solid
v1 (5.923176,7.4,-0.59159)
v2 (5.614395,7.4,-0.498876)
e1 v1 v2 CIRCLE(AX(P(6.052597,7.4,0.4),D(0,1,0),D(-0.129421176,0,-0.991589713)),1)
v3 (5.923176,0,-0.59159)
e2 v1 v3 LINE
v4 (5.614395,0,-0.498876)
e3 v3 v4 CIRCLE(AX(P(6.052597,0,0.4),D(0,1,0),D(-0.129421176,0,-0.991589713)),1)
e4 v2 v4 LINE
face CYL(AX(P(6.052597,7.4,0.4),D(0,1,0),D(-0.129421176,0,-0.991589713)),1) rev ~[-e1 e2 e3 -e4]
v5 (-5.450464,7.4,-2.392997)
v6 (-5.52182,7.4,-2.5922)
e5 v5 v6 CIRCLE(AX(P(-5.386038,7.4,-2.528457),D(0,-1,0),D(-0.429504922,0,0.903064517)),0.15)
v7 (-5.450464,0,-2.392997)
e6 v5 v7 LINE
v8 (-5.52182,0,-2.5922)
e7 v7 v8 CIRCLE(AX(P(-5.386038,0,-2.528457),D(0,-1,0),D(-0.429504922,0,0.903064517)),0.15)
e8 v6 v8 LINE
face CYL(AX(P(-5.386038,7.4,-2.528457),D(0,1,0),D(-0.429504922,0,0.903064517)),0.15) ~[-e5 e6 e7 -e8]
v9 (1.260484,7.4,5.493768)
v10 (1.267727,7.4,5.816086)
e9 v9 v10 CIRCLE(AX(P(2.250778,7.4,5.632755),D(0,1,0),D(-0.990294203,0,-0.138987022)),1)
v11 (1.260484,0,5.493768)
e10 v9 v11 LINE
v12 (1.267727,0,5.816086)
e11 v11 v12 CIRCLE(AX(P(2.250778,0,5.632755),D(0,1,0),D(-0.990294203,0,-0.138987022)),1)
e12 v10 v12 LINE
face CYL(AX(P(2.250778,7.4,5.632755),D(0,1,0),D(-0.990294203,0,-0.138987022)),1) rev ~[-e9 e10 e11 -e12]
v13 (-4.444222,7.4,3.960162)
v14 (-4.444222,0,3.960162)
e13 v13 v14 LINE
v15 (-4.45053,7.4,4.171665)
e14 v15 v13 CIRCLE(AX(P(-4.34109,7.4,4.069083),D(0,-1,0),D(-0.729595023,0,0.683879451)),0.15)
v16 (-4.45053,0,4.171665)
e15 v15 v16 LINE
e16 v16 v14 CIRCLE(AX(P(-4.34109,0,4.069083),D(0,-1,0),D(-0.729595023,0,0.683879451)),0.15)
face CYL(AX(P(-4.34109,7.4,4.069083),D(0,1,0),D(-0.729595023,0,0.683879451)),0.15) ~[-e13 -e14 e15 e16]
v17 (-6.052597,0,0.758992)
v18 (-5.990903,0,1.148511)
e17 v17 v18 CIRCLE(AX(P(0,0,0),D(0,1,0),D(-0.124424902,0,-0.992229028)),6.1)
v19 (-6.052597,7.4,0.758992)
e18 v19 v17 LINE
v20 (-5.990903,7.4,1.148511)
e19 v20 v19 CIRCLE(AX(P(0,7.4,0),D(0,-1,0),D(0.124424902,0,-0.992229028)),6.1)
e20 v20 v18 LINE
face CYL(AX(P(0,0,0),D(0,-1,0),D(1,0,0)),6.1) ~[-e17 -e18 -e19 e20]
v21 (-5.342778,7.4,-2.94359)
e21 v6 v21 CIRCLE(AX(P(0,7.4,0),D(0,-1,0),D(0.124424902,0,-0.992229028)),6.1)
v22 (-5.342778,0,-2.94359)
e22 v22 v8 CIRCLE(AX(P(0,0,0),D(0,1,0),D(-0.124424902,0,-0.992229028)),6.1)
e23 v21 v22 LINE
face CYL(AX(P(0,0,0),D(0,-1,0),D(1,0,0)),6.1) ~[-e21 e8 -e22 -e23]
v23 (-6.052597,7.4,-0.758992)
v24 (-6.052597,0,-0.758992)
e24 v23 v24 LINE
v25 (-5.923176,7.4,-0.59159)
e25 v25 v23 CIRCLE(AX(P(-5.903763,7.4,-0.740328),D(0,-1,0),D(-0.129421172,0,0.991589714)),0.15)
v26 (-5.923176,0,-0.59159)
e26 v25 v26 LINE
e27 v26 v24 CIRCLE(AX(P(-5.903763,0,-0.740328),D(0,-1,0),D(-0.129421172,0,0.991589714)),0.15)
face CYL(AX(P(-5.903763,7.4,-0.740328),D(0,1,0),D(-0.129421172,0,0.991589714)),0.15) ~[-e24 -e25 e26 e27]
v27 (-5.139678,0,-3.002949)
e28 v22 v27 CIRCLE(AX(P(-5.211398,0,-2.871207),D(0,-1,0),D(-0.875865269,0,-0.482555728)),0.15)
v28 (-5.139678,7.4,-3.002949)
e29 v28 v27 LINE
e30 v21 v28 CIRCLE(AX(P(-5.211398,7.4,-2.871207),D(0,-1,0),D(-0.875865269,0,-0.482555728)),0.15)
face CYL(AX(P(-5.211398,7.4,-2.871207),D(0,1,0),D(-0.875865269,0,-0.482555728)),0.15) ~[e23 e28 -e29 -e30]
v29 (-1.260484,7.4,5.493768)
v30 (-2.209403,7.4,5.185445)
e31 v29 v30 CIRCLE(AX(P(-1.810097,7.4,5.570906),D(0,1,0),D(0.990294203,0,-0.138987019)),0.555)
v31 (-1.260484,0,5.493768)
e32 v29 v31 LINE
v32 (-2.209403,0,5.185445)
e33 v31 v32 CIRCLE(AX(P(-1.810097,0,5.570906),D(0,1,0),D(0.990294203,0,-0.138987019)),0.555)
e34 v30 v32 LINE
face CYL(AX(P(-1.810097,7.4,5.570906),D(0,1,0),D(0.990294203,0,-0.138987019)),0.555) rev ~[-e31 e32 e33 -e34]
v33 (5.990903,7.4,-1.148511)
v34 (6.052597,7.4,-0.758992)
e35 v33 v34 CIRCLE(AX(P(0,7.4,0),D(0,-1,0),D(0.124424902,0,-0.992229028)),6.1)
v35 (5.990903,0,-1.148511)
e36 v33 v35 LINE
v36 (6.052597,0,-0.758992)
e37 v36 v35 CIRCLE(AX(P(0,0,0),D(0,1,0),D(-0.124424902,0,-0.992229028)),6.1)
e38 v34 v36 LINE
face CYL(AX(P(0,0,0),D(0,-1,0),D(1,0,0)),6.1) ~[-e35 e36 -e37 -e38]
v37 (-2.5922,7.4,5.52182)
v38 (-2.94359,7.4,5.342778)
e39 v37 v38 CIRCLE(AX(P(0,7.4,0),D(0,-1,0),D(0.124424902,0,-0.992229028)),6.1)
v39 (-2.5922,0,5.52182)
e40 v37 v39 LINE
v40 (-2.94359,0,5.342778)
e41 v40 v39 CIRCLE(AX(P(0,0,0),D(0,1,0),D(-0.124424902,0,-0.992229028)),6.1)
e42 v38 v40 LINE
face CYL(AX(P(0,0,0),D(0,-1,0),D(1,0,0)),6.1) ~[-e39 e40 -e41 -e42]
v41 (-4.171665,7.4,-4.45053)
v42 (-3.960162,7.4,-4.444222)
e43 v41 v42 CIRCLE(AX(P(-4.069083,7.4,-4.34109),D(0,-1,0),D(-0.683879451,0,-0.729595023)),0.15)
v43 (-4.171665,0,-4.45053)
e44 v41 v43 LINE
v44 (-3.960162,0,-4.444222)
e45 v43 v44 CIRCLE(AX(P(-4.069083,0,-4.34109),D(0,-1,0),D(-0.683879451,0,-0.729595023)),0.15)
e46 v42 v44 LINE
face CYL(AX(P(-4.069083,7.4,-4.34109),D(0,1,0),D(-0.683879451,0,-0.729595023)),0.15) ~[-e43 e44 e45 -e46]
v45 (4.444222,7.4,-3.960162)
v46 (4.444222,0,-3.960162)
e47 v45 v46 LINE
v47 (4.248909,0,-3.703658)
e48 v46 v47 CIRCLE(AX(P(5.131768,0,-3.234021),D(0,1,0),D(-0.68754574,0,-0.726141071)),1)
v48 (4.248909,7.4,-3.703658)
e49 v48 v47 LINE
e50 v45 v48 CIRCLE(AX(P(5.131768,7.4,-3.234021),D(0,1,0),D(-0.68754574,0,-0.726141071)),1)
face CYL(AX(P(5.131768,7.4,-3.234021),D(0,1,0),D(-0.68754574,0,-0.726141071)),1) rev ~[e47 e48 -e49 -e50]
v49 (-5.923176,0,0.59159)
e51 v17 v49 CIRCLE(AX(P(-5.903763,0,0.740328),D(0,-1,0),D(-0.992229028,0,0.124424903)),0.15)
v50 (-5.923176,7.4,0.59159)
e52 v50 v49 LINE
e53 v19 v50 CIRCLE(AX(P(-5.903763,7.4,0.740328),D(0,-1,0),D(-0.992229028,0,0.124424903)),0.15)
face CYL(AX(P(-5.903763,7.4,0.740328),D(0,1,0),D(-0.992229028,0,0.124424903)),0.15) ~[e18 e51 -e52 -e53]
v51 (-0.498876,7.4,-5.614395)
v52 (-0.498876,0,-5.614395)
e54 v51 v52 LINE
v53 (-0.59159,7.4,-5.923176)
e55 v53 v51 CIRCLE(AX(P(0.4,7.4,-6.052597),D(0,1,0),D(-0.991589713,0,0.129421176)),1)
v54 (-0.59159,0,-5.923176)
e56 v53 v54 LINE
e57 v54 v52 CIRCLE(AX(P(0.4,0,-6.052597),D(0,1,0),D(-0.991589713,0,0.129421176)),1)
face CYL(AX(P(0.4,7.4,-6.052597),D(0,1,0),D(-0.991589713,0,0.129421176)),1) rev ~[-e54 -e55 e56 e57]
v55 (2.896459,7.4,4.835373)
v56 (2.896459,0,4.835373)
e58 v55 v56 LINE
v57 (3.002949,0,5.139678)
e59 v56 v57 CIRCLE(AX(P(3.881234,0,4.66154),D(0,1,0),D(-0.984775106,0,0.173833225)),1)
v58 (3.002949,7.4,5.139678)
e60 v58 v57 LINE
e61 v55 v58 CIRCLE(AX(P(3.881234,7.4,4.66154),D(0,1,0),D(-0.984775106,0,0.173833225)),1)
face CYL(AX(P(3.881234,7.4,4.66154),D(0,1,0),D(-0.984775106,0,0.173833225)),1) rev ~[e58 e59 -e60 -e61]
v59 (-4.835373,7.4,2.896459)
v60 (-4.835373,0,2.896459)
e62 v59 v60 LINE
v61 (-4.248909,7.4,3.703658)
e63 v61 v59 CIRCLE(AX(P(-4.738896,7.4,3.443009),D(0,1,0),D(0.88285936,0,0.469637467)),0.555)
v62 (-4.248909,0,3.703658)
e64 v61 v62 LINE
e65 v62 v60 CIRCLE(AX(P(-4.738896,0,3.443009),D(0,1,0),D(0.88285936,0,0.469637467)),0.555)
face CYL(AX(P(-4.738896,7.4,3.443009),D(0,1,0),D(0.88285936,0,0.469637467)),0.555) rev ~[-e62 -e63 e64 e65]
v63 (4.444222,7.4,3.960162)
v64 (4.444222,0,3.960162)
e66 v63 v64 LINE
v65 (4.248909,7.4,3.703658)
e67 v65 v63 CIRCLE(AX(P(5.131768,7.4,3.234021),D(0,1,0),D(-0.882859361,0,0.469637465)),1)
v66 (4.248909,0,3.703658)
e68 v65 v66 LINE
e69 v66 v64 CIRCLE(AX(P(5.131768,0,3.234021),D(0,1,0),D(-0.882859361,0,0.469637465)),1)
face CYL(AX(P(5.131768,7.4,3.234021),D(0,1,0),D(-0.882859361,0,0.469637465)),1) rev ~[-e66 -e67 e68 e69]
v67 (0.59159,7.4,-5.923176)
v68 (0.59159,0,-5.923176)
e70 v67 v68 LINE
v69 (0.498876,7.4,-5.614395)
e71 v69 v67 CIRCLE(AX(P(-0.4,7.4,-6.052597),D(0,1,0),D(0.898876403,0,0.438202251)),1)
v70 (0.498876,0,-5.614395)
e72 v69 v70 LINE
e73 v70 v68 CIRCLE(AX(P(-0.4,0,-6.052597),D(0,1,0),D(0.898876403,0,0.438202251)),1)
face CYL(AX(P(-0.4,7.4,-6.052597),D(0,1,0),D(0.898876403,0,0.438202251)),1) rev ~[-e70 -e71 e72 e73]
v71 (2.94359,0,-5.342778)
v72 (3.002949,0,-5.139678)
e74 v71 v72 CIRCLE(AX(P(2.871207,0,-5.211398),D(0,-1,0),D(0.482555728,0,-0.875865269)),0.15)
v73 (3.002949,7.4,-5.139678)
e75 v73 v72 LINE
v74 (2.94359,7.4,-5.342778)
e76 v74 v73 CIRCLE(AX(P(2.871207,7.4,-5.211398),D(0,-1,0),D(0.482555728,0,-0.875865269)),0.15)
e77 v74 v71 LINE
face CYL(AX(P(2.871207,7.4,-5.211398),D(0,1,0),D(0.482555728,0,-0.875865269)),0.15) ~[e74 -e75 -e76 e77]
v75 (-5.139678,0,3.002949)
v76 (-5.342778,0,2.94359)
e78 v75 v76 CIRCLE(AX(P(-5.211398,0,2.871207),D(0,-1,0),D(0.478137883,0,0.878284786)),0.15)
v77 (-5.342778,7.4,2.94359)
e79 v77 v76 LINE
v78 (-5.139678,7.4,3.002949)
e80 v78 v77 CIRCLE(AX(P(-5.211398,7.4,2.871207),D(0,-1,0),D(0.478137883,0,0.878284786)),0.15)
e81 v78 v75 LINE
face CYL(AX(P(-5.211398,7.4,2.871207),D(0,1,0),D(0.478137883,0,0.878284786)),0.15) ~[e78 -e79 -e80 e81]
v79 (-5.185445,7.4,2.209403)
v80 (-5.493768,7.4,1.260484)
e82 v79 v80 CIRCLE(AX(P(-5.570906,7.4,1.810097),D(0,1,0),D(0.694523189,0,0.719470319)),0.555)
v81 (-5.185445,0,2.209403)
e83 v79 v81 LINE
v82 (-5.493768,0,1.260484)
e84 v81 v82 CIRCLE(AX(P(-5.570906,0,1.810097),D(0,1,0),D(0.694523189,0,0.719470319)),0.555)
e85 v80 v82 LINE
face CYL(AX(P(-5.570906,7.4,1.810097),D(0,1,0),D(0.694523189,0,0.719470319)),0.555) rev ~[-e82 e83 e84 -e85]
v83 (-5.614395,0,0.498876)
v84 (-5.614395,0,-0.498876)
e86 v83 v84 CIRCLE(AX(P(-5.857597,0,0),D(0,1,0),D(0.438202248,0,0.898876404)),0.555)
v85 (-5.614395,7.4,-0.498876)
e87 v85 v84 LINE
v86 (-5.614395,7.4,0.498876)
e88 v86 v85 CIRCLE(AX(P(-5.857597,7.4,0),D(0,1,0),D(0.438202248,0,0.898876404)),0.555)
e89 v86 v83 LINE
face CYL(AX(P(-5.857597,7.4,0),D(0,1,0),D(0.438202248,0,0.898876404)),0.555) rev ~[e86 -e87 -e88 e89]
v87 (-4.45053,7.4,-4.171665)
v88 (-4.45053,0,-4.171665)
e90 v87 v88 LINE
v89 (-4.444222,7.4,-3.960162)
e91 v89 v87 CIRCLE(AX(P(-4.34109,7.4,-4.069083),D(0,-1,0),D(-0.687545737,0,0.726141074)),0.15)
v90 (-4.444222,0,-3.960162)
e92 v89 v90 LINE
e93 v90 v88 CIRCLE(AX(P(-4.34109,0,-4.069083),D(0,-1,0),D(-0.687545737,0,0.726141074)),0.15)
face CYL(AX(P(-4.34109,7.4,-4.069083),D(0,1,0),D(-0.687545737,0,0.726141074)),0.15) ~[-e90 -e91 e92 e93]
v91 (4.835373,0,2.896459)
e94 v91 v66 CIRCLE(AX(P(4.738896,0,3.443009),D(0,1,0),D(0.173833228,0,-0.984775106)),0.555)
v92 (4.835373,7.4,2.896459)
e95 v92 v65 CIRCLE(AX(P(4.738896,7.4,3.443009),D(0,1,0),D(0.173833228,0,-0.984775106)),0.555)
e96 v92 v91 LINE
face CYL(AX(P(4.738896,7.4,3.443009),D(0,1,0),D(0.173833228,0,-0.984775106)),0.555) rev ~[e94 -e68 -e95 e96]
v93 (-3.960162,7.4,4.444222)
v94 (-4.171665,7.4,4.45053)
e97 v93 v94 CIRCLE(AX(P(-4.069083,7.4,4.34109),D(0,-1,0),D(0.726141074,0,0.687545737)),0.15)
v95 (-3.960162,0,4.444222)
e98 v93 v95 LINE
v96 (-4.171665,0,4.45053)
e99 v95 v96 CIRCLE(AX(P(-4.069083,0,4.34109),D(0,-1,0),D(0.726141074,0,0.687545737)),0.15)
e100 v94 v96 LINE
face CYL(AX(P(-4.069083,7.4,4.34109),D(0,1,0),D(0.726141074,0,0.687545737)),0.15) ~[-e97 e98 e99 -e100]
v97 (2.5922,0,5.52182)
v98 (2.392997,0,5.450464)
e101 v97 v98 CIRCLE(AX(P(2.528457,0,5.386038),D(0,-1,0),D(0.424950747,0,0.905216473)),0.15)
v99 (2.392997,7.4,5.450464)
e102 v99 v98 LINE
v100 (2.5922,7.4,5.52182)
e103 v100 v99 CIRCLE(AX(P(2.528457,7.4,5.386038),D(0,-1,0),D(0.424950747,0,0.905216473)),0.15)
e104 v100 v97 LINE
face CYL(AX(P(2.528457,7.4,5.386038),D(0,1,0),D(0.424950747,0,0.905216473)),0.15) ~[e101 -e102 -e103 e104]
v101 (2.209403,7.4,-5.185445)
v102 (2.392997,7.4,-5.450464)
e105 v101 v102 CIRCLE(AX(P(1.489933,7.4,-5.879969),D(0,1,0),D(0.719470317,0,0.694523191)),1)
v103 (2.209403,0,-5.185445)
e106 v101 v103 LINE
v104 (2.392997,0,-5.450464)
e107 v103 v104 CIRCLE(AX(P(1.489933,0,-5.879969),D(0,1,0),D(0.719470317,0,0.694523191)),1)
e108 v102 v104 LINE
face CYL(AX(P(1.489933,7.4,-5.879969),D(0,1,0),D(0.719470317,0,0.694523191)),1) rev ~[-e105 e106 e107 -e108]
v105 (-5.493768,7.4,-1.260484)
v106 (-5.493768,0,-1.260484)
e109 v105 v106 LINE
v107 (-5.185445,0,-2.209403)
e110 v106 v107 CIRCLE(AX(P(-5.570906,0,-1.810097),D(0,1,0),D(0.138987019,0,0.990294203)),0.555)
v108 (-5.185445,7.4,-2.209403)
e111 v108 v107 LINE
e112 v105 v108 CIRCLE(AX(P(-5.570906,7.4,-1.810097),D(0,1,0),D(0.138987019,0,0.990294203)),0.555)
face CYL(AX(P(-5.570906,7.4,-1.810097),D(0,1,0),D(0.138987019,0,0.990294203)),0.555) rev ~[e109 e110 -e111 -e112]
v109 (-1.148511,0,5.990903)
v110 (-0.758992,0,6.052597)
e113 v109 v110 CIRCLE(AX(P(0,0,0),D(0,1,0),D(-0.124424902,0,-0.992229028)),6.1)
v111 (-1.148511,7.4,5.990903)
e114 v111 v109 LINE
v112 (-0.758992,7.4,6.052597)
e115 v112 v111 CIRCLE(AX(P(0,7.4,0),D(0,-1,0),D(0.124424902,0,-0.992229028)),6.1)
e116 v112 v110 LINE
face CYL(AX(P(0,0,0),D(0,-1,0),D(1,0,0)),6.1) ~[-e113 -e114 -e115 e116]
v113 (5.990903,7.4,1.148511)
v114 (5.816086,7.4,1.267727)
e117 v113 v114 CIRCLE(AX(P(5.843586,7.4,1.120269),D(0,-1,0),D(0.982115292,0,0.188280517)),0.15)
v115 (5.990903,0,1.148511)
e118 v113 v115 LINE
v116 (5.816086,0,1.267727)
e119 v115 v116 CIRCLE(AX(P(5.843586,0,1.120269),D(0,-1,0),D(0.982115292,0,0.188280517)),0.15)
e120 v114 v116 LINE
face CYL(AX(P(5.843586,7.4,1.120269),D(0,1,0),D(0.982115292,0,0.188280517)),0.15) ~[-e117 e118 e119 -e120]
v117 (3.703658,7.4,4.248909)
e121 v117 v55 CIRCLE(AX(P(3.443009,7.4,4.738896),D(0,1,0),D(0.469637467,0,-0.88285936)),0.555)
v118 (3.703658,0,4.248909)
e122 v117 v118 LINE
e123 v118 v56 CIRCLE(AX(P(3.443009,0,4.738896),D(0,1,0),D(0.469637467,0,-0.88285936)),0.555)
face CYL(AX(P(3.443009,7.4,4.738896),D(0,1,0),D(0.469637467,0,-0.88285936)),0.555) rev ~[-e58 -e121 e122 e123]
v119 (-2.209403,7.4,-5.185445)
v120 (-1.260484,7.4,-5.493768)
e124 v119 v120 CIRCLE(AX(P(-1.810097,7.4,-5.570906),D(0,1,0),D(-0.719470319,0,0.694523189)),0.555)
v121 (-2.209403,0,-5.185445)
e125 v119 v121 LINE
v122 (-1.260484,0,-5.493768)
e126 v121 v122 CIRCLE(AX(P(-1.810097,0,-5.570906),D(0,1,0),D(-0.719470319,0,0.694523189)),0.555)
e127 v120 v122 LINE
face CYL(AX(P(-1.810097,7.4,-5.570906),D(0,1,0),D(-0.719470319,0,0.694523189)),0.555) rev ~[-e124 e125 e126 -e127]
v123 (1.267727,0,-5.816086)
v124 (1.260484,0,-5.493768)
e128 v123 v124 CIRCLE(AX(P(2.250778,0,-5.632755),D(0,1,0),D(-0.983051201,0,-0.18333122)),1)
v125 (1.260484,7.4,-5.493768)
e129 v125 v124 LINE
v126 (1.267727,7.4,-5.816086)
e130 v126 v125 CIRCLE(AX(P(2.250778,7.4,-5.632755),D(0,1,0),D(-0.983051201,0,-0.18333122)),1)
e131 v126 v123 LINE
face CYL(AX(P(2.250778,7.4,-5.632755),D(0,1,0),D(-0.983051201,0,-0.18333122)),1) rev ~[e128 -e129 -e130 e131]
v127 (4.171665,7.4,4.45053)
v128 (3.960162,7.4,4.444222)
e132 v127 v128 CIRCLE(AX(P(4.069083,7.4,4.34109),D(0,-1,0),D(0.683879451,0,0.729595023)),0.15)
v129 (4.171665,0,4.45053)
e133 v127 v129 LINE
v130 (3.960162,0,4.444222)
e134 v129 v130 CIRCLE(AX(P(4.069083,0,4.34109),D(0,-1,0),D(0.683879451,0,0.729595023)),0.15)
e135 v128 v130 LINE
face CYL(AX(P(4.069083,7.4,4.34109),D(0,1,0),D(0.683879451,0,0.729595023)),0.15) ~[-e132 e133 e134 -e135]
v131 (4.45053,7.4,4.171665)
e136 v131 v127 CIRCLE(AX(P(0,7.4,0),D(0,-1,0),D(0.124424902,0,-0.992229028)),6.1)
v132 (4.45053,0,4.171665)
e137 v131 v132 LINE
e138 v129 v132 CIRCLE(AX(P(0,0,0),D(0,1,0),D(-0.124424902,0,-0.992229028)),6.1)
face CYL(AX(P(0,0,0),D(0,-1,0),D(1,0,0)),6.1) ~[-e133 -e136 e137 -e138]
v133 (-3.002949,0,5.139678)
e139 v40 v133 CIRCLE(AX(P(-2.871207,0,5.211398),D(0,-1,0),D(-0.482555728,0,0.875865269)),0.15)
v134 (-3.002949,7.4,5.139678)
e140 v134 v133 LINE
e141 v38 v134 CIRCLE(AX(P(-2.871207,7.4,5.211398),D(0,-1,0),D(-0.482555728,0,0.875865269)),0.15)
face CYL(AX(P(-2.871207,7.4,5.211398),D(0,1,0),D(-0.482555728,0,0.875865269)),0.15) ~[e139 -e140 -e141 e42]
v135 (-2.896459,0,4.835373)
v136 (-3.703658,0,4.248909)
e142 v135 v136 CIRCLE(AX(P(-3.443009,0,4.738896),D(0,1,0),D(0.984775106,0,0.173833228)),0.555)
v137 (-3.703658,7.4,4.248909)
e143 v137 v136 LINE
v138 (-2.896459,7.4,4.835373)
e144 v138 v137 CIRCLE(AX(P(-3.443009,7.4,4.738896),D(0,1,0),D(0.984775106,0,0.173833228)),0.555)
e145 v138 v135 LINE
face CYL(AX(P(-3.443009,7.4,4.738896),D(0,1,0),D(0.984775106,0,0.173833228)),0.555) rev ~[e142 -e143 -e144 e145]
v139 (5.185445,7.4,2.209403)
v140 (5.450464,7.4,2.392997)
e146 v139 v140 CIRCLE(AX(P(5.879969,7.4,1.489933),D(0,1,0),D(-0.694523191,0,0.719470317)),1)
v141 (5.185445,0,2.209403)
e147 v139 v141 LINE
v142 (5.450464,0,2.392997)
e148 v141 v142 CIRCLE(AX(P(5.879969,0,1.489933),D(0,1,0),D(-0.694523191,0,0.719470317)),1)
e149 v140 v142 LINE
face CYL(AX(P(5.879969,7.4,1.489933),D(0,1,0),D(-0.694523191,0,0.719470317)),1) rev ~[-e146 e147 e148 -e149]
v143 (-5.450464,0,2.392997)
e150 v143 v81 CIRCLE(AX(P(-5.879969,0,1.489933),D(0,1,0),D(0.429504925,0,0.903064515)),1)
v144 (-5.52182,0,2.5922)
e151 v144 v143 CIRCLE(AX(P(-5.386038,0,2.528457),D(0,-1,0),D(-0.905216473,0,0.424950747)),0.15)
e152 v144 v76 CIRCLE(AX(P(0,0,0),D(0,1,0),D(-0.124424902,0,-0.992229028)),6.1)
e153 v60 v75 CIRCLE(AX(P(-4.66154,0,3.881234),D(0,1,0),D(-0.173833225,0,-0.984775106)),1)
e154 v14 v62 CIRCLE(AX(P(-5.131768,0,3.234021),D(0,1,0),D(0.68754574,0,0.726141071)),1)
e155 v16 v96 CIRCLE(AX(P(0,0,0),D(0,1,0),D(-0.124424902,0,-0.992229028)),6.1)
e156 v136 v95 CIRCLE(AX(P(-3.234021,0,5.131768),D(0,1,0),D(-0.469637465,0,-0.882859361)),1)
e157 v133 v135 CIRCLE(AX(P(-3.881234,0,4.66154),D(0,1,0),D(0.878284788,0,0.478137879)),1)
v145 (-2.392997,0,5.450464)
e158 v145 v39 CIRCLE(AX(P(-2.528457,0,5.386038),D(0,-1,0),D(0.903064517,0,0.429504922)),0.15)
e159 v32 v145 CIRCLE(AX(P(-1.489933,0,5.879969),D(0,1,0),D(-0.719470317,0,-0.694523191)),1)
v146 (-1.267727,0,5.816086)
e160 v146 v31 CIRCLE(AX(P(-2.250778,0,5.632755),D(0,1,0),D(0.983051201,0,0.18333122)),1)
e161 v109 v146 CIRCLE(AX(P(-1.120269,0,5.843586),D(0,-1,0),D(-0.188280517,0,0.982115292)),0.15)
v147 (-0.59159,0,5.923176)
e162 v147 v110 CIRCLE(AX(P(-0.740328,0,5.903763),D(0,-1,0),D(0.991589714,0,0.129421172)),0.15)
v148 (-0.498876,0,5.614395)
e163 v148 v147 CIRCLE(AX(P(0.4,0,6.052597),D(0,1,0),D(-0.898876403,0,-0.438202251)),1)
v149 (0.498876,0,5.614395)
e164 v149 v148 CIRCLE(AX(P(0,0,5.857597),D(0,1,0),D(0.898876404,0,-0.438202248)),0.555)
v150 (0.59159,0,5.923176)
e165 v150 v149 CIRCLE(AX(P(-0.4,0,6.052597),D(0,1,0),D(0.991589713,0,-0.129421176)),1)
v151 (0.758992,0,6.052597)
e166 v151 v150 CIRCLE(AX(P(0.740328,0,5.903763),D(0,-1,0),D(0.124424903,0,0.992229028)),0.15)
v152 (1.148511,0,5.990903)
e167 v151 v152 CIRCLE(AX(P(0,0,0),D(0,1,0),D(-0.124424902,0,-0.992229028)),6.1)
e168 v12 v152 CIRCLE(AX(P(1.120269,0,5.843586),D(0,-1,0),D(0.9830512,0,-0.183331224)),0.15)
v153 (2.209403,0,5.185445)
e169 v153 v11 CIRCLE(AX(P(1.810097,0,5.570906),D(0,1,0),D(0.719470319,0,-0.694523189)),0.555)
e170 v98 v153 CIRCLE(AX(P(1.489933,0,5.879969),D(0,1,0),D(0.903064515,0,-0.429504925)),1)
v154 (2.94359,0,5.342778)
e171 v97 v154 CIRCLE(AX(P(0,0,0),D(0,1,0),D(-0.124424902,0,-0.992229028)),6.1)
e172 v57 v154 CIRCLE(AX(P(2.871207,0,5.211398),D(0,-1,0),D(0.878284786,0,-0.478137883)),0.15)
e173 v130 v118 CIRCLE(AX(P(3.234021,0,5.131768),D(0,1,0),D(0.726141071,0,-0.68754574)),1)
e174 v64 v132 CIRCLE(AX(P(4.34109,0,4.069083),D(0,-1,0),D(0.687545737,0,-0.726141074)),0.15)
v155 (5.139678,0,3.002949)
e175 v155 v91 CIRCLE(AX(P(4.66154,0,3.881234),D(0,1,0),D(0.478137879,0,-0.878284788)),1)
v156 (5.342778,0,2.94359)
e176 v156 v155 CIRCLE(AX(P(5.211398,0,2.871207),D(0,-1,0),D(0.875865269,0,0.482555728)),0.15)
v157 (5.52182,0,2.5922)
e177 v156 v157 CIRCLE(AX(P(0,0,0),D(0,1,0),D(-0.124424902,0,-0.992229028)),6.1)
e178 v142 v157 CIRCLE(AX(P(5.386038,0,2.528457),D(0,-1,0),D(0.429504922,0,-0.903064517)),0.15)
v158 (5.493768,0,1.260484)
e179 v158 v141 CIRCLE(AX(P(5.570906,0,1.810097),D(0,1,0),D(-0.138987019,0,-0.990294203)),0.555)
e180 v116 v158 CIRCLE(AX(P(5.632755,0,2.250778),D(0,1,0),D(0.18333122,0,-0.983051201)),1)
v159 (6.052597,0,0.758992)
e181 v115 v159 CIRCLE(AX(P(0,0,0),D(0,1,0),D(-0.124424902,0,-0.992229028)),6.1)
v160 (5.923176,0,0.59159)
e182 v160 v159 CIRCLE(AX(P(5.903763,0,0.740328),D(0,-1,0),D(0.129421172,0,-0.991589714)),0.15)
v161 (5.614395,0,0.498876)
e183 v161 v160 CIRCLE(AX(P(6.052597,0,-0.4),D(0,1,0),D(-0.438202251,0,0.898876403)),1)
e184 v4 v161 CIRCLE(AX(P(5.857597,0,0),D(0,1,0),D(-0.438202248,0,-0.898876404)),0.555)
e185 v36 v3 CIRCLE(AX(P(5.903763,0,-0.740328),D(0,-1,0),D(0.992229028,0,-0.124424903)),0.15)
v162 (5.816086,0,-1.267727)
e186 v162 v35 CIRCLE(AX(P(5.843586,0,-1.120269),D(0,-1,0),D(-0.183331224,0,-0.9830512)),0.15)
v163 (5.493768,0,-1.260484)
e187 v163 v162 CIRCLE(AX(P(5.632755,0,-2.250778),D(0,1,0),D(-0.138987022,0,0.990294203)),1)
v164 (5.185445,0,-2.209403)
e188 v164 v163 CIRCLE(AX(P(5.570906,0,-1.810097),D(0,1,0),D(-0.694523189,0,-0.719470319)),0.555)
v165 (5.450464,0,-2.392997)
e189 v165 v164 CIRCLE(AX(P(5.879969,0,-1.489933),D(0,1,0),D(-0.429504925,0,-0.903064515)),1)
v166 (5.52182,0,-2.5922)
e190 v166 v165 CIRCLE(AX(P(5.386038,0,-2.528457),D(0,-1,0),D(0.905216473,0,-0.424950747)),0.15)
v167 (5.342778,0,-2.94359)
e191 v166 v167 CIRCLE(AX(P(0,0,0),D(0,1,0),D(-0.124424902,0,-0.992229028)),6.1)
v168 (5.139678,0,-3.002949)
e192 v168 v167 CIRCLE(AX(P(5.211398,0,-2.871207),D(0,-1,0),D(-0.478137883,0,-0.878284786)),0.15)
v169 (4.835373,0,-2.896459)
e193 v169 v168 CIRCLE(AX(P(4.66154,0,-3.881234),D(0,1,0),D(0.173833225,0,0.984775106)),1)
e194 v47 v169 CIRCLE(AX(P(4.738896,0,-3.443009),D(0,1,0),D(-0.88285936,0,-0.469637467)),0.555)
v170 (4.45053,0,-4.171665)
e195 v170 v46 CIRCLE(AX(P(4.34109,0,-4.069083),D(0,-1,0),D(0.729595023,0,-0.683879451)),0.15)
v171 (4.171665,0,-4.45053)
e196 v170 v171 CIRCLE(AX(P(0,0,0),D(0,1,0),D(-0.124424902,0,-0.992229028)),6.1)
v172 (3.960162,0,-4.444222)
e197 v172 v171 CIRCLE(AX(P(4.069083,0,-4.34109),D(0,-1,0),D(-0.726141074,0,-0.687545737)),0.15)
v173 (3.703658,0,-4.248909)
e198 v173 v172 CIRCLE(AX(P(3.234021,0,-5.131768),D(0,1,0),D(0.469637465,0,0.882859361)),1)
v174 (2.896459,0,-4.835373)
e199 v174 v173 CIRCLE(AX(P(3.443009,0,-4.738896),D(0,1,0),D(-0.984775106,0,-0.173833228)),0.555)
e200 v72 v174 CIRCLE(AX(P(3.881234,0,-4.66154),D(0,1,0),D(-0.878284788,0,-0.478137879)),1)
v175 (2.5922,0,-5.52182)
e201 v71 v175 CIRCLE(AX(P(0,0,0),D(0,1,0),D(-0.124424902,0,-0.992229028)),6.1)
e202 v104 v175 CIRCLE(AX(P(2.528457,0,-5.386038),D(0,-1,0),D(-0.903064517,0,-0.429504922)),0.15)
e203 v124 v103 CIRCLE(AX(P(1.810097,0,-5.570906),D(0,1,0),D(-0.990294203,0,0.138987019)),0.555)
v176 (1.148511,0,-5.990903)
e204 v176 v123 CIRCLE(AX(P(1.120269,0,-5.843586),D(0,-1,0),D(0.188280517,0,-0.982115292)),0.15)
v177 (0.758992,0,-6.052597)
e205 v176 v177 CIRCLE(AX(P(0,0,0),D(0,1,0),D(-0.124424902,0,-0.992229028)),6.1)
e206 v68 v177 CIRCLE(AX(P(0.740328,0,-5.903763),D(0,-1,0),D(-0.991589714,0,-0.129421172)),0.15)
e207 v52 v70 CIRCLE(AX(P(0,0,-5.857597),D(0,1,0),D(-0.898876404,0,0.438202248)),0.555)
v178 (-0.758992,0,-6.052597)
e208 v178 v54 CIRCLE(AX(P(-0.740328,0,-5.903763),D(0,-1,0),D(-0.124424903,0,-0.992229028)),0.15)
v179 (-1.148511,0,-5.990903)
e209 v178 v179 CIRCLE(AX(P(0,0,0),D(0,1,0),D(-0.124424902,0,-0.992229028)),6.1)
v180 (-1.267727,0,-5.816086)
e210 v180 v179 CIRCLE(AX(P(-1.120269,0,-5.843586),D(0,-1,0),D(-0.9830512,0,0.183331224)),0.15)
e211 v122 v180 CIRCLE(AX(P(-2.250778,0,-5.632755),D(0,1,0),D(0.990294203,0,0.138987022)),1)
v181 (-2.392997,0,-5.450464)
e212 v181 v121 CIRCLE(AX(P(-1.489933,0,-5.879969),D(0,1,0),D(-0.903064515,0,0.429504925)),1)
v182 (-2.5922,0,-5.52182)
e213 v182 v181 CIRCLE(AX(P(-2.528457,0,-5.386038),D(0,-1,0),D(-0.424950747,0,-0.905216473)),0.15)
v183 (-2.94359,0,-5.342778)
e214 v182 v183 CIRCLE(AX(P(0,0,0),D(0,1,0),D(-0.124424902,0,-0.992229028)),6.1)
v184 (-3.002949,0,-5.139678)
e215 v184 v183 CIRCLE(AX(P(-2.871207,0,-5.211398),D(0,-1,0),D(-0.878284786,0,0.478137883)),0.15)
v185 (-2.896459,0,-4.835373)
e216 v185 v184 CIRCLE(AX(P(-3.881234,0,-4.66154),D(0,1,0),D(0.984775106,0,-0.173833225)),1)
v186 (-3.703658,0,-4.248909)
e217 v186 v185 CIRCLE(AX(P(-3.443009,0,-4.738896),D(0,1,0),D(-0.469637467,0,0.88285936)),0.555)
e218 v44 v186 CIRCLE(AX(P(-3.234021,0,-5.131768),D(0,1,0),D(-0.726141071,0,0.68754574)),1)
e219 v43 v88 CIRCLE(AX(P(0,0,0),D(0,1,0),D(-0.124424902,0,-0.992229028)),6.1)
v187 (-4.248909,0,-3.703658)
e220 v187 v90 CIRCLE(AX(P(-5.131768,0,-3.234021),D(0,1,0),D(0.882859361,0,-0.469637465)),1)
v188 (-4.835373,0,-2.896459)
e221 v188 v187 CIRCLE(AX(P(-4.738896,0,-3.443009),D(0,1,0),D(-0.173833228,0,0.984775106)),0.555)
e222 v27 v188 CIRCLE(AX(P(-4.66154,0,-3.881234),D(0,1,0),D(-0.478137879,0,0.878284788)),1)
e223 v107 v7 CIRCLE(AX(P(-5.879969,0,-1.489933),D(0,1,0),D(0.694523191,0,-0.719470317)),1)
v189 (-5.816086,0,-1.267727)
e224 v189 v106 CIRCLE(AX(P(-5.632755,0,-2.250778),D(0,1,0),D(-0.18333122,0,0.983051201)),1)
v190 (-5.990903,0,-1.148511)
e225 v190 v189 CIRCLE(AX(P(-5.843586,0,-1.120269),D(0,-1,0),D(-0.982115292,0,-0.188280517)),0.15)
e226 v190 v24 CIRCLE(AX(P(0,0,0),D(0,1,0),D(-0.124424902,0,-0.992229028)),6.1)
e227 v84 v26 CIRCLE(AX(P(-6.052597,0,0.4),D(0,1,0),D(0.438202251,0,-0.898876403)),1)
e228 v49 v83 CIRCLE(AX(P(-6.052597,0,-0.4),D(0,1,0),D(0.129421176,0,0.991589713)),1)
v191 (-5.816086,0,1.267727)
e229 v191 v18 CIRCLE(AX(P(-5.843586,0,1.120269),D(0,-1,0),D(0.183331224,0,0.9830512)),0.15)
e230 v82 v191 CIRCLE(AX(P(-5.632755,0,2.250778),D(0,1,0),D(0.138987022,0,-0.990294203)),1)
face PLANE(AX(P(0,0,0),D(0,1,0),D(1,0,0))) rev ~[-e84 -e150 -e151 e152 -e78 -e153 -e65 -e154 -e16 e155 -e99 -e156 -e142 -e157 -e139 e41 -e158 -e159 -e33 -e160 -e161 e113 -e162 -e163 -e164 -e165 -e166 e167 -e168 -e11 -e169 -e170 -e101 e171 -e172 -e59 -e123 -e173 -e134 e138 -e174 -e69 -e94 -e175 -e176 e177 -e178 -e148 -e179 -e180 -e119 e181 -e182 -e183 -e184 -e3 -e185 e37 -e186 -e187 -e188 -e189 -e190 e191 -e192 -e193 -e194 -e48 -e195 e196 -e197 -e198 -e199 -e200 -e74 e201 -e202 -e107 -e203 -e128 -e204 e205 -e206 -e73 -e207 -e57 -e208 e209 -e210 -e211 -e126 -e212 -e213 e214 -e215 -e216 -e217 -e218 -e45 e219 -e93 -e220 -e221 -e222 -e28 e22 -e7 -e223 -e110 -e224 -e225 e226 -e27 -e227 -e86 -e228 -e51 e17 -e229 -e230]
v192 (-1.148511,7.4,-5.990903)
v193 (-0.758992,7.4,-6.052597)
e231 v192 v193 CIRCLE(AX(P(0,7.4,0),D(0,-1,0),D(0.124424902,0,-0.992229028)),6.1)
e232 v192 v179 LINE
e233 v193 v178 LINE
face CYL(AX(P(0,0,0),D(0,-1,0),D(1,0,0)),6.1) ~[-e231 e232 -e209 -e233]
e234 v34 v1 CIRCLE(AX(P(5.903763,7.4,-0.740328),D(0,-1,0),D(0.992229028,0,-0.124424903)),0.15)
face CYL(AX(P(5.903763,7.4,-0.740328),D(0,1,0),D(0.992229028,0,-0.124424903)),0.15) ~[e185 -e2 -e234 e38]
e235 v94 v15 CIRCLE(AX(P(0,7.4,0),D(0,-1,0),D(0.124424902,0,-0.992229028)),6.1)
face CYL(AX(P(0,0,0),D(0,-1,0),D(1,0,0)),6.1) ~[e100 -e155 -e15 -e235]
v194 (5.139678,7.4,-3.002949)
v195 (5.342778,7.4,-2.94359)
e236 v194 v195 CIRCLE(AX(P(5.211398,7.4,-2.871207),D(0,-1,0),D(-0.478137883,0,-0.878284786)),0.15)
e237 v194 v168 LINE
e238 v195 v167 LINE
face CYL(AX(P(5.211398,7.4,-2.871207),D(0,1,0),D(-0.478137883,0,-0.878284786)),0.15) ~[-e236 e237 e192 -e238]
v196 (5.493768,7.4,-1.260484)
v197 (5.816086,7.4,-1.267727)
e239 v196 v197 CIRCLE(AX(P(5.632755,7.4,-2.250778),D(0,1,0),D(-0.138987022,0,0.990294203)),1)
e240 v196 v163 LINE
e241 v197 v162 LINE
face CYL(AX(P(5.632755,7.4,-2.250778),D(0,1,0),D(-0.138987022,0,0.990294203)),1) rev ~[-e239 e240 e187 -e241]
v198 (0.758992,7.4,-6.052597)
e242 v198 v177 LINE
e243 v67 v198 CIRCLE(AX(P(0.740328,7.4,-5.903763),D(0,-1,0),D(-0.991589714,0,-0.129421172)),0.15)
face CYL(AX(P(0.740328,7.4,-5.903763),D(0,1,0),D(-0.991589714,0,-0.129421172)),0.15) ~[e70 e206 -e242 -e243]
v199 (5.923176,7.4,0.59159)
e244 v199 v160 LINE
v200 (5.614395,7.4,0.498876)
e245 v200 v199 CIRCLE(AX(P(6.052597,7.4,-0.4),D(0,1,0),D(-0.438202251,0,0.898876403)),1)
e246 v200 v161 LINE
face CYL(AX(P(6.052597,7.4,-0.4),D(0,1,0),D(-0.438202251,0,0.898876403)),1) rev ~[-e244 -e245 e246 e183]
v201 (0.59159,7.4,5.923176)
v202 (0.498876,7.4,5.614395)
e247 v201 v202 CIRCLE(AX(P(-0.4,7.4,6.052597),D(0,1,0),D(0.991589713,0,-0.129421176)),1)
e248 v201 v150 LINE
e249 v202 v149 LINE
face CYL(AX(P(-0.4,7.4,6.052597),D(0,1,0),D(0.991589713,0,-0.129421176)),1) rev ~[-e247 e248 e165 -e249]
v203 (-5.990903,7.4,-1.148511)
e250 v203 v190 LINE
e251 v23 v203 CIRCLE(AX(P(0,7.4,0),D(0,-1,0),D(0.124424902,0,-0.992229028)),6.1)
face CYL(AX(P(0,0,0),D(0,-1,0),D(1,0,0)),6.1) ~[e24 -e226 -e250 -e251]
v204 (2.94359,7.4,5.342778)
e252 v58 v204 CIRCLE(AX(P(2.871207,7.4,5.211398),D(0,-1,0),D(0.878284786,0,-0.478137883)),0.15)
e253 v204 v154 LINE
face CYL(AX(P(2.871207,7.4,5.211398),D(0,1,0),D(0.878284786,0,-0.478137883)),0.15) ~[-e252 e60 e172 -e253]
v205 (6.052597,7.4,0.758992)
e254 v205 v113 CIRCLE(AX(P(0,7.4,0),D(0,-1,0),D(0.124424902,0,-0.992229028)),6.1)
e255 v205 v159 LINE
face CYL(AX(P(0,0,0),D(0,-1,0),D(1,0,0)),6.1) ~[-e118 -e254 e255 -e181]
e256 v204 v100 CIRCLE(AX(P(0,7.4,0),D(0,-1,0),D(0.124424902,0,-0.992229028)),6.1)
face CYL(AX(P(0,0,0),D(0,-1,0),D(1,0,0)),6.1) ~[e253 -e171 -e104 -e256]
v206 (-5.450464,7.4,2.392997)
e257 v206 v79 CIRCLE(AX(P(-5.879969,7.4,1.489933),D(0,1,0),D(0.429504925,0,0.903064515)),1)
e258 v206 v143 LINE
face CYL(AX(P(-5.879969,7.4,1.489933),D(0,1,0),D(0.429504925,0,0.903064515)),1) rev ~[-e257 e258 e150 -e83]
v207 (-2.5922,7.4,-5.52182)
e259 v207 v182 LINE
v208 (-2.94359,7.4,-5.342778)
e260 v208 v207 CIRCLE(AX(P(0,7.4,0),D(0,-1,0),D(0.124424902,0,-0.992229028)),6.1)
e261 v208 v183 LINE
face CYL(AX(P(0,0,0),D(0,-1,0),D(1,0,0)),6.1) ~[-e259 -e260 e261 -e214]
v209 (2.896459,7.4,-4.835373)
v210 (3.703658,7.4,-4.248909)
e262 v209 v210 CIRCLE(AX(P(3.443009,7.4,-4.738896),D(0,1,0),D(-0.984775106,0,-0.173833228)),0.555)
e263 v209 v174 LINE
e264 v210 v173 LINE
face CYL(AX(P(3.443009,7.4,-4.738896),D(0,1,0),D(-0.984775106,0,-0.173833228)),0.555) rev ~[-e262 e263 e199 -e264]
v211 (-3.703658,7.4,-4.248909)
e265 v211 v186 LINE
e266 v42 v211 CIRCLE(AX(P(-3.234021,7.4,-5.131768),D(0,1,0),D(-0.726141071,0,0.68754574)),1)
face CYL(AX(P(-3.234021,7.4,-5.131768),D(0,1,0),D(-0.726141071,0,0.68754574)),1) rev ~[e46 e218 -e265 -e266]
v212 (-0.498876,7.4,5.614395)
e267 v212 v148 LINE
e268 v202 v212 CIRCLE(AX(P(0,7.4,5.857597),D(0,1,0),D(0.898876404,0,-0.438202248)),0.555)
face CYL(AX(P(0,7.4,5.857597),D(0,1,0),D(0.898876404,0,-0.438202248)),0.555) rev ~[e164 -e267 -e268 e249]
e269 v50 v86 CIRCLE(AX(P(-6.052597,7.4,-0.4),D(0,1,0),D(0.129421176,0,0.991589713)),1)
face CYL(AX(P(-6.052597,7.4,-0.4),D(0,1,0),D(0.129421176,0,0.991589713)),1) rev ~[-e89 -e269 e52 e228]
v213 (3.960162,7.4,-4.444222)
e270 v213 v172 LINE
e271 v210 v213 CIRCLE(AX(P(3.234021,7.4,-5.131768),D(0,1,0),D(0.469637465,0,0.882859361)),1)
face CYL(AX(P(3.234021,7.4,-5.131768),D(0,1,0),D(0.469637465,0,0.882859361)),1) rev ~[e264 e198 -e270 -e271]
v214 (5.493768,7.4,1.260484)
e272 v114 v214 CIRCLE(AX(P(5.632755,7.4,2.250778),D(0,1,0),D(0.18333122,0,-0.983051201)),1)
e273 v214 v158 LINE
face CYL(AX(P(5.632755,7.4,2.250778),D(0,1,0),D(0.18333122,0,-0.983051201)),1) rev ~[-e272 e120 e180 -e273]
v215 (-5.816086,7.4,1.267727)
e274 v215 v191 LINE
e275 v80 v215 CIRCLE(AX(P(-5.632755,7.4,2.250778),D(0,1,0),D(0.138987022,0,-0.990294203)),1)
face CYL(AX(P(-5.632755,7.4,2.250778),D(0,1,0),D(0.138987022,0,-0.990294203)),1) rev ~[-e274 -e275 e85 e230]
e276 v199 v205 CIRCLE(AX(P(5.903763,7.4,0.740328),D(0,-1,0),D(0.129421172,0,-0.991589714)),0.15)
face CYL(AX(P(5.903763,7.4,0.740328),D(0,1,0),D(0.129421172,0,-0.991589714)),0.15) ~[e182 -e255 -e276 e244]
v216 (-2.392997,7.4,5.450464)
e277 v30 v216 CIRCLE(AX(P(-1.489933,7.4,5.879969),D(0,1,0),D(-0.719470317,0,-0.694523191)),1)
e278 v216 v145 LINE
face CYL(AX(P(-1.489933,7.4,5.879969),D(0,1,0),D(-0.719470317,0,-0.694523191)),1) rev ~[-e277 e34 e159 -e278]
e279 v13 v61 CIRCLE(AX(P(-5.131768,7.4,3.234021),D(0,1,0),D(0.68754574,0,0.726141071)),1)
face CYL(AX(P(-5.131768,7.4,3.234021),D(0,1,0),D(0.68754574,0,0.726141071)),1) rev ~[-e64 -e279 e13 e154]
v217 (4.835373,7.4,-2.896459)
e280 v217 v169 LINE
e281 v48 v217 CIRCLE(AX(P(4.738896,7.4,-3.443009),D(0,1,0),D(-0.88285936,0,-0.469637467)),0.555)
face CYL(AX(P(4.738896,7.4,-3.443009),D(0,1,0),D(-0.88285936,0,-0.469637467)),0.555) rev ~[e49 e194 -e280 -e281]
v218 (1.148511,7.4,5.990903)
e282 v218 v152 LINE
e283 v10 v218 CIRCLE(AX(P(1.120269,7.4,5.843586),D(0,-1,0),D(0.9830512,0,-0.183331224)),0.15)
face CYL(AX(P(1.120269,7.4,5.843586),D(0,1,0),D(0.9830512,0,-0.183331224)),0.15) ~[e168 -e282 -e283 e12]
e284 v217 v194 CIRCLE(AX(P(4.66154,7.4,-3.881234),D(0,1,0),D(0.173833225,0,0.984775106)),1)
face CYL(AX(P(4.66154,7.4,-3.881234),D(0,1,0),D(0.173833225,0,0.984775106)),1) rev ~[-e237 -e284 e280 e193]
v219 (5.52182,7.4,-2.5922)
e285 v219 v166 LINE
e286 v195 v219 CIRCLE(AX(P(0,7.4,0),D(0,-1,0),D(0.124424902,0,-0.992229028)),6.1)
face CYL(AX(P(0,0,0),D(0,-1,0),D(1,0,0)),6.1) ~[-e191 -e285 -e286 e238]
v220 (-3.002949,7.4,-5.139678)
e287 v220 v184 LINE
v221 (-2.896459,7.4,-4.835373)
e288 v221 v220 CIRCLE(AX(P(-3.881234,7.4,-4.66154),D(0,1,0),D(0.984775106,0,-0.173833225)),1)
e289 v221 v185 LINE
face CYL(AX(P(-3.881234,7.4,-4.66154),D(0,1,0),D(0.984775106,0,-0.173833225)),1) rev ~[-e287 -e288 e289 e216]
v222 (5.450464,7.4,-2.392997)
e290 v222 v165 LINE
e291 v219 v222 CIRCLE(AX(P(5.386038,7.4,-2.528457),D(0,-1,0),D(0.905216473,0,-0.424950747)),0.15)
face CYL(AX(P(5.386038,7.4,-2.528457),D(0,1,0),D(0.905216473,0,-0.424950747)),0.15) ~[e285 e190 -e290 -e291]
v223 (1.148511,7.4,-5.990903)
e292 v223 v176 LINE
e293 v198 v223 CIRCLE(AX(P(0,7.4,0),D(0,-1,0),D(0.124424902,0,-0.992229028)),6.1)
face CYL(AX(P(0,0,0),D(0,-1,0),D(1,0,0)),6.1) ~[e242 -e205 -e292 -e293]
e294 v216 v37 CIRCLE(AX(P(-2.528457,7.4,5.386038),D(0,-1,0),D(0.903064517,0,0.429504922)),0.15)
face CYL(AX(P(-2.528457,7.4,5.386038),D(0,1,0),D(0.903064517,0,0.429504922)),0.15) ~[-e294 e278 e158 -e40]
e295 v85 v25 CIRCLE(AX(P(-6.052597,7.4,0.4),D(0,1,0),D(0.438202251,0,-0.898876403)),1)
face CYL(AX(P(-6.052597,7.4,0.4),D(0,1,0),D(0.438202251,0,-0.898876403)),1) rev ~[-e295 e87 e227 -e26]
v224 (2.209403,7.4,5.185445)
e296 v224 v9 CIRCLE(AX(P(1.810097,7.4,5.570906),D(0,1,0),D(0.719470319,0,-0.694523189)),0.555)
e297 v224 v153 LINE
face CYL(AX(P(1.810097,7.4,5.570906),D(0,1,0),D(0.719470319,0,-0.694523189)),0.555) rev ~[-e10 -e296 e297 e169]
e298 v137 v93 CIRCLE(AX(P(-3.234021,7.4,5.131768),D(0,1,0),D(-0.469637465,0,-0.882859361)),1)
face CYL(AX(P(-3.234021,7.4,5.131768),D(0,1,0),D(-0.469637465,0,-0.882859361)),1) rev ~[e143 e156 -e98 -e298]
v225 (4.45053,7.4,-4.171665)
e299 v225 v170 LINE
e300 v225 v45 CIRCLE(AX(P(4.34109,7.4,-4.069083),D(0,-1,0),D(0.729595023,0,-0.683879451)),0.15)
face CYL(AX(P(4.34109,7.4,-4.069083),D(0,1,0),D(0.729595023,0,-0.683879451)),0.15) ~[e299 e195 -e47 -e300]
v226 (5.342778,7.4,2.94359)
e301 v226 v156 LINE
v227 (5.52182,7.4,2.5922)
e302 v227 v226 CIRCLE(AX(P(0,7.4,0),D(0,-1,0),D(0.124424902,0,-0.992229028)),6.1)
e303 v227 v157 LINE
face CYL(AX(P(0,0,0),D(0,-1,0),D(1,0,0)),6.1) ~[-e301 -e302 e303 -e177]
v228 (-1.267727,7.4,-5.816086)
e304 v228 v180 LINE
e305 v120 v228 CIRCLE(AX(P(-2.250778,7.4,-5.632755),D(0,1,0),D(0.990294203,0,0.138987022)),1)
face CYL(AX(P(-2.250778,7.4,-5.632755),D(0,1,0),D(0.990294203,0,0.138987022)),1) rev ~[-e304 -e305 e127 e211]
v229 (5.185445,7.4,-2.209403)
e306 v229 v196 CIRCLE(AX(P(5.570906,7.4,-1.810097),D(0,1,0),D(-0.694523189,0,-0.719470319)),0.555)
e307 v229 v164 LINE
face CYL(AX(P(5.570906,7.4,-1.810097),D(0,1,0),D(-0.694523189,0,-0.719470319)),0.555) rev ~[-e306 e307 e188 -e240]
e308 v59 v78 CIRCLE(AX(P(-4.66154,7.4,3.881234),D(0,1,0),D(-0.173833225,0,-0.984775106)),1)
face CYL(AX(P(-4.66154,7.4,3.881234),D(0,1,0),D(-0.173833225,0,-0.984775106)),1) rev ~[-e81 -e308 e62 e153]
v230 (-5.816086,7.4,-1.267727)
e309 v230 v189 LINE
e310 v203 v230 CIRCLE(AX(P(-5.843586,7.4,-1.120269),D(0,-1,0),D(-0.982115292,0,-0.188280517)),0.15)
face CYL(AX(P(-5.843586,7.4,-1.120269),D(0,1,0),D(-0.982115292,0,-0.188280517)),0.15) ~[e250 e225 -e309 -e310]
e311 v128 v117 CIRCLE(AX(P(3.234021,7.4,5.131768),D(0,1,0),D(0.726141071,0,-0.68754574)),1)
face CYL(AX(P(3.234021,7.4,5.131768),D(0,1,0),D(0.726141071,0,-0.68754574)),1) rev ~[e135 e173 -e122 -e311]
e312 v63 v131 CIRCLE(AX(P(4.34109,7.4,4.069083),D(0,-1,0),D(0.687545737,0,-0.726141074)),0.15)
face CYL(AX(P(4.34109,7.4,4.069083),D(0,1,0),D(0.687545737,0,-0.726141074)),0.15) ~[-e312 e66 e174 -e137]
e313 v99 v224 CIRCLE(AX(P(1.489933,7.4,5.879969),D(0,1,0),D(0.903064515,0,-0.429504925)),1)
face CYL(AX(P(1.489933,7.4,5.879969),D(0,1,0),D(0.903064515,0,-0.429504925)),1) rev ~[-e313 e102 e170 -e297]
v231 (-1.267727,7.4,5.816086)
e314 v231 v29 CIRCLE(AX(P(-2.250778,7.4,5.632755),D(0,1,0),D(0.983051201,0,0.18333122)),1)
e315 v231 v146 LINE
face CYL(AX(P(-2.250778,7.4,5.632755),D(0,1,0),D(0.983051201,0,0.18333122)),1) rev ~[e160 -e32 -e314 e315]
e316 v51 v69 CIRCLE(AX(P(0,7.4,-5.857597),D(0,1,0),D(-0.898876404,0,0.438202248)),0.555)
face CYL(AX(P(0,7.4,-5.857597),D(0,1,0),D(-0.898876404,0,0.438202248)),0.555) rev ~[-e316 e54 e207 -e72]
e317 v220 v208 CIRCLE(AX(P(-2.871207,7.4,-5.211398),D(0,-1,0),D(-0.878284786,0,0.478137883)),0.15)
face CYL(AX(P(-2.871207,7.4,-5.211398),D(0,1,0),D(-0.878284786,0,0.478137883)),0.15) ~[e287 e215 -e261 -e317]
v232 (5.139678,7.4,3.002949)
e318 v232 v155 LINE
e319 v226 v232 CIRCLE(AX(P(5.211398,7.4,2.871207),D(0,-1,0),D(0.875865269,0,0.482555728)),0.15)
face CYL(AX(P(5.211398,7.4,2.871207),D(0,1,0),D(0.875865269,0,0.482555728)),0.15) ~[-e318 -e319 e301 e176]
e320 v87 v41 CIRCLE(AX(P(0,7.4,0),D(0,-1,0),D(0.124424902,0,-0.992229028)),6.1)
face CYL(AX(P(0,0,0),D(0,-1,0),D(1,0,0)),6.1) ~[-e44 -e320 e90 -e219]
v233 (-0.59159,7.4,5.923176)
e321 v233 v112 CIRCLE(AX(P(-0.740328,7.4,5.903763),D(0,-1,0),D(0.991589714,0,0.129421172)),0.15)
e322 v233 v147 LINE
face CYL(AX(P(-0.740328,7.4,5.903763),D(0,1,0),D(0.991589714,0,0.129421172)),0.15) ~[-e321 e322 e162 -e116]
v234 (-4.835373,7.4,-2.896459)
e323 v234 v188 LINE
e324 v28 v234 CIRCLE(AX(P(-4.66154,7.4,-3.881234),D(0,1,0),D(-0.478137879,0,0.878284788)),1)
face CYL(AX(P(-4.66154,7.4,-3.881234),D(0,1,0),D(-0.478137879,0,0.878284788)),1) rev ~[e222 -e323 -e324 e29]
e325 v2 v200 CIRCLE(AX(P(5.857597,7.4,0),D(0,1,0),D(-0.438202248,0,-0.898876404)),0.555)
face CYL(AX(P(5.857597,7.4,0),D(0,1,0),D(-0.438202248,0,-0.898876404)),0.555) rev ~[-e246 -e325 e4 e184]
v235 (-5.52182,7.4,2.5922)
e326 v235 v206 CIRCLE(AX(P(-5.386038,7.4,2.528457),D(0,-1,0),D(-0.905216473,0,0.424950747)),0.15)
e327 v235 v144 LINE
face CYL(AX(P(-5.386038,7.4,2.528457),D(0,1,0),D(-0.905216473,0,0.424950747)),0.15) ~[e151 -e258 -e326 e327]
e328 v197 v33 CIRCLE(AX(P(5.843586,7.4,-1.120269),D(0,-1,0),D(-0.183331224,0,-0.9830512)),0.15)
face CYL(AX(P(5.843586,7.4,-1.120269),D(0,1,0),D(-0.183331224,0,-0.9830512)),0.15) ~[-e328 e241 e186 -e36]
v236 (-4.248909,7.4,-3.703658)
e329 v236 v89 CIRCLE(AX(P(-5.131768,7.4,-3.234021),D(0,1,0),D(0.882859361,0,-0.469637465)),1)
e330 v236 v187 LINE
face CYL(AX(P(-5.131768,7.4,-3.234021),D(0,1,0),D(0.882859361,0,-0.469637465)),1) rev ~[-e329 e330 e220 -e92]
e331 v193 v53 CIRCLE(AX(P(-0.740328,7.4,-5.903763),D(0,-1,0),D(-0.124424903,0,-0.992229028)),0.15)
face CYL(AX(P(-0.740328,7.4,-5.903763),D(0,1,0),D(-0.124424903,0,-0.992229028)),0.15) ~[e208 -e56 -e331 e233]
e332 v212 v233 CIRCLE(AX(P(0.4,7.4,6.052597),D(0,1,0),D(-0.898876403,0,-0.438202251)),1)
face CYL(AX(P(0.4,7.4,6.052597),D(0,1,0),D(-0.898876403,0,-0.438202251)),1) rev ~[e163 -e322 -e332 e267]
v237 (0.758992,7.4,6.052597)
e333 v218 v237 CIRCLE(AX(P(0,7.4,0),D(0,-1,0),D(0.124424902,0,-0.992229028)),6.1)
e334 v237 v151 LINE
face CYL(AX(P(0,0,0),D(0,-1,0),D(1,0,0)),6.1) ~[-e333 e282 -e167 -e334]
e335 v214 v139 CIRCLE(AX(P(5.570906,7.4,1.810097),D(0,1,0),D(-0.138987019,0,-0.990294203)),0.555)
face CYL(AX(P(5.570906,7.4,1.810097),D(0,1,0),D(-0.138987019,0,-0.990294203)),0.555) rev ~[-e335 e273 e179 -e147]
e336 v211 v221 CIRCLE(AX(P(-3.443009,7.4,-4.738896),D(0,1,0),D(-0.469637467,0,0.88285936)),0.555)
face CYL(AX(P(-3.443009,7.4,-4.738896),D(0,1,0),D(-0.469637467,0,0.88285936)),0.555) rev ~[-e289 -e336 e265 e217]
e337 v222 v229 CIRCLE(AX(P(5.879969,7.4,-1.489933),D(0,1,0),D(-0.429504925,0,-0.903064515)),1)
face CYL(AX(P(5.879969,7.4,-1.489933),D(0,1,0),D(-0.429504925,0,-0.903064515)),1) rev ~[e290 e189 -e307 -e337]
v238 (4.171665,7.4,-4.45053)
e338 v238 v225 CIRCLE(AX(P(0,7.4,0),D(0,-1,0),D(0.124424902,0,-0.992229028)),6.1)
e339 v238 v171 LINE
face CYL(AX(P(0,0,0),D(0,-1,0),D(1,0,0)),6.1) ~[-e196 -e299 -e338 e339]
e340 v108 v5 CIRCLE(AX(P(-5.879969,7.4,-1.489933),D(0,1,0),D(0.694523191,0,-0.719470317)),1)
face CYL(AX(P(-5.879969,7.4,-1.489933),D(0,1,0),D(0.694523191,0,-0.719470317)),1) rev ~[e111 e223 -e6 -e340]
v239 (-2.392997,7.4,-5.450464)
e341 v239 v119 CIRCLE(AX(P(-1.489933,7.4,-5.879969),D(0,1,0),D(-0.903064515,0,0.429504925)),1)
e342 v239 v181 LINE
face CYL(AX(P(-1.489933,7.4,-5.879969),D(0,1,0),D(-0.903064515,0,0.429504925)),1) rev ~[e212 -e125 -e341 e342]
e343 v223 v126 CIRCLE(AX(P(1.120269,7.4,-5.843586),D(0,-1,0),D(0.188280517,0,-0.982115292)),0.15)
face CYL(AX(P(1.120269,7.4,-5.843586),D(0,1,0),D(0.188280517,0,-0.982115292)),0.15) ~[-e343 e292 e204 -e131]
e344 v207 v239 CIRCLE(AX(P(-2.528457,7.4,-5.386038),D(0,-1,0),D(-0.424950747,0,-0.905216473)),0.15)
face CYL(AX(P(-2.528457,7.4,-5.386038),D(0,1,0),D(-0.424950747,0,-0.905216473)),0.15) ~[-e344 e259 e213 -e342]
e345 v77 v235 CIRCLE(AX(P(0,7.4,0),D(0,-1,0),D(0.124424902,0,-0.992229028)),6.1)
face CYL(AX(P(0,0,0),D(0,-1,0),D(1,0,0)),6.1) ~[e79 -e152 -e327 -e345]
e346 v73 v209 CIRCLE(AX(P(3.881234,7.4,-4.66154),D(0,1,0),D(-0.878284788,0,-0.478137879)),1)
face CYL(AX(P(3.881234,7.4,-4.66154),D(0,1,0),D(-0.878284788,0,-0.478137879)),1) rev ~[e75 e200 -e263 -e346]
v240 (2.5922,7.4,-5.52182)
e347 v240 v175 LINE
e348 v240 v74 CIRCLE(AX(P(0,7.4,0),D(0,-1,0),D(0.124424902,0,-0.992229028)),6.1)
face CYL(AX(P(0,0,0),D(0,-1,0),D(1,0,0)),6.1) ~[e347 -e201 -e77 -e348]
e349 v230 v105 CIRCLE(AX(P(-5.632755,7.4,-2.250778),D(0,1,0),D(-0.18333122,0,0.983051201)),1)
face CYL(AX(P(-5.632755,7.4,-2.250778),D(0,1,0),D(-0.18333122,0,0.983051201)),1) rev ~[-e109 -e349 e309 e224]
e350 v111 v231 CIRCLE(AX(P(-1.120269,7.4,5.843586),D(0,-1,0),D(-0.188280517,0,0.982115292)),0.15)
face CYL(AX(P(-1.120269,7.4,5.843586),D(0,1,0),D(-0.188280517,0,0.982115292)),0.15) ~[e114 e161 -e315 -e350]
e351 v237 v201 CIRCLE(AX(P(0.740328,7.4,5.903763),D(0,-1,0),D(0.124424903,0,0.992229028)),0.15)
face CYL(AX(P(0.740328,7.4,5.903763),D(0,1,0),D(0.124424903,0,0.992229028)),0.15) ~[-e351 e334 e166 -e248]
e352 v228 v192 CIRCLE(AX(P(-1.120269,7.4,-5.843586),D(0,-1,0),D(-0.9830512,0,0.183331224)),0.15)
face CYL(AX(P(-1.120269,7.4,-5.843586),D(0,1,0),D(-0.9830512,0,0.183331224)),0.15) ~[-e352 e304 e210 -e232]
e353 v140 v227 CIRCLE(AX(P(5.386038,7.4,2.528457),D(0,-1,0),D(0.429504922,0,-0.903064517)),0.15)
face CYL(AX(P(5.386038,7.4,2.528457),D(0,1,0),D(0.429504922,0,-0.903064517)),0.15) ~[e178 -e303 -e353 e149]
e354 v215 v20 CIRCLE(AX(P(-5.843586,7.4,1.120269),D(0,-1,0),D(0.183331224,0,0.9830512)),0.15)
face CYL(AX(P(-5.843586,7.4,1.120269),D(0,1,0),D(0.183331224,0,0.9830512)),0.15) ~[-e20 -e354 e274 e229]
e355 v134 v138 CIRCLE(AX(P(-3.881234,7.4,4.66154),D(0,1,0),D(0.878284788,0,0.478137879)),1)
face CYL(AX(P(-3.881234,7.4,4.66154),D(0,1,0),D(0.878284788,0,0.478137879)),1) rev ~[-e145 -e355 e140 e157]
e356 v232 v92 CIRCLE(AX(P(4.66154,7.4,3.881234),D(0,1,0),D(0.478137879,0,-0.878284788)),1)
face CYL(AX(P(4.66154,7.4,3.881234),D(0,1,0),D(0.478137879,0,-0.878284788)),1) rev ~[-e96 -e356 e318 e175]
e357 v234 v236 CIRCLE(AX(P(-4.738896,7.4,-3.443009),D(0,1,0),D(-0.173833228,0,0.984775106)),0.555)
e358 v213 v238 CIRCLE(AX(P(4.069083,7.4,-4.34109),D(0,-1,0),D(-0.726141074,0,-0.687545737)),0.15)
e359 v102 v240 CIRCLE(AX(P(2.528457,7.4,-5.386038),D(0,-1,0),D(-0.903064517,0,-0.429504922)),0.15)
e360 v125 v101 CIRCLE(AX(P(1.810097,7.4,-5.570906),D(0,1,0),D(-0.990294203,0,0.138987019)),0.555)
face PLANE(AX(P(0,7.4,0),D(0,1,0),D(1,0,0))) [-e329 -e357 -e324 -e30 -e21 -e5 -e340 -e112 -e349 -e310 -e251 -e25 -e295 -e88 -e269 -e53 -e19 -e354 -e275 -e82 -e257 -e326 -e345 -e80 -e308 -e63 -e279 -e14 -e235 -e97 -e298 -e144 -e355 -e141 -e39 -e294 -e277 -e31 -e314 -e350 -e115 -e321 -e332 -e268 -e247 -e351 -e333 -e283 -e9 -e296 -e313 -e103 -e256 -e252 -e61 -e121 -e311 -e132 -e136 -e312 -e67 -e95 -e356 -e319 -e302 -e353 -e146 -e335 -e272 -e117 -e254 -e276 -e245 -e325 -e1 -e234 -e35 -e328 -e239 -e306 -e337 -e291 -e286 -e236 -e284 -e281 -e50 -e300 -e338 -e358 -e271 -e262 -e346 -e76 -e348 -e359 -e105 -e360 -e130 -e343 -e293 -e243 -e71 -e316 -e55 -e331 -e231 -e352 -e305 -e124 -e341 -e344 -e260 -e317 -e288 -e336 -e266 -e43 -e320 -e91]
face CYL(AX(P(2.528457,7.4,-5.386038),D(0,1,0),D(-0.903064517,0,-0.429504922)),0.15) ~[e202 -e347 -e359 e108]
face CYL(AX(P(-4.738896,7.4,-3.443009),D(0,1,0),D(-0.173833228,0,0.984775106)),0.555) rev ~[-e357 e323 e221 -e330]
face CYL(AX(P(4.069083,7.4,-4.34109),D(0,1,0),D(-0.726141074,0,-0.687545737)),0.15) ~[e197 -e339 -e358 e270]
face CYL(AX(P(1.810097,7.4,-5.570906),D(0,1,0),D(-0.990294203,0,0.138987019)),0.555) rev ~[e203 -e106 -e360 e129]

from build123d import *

# Parameters (mm, degrees)
SKETCH1_R           = 6.1
BOSS_EXTRUDE1_DEPTH = 7.4
CUT_EXTRUDE2_DEPTH  = 7.4
CIRPATTERN1_COUNT   = 20


with BuildPart() as part:
    # Sketch1 → Boss-Extrude1 (new body)
    with BuildSketch(Plane(origin=(0, 0, 0), x_dir=(1, 0, 0), z_dir=(0, 1, 0))):
        Circle(SKETCH1_R)
    extrude(amount=BOSS_EXTRUDE1_DEPTH)

    # Sketch2 → Cut-Extrude2 (cut)
    with BuildSketch(Plane(origin=(0, 7.4, 0), x_dir=(1, 0, 0), z_dir=(0, 1, 0))):
        with BuildLine():
            Line((-38.373637849, 1.335743881), (-0.758991905, 6.05259707))
            ThreePointArc((-0.758991905, 6.05259707), (-0.648582224, 6.02243319), (-0.591589713, 5.923175892))
            ThreePointArc((-0.591589713, 5.923175892), (-0.557758828, 5.765024422), (-0.498876404, 5.614394822))
            ThreePointArc((-0.498876404, 5.614394822), (0, 5.30259707), (0.498876404, 5.614394822))
            ThreePointArc((0.498876404, 5.614394822), (0.557758828, 5.765024422), (0.591589713, 5.923175892))
            ThreePointArc((0.591589713, 5.923175892), (0.648582224, 6.02243319), (0.758991905, 6.05259707))
            Line((0.758991905, 6.05259707), (38.373637849, 1.335743881))
            Line((38.373637849, 1.335743881), (38.373637849, 77.154219029))
            Line((38.373637849, 77.154219029), (-38.373637849, 77.154219029))
            Line((-38.373637849, 77.154219029), (-38.373637849, 1.335743881))
        make_face()
    cut_extrude2 = extrude(amount=-CUT_EXTRUDE2_DEPTH, mode=Mode.SUBTRACT)

    # CirPattern1: Cut-Extrude2 ×20 about axis
    cirpattern1_axis = Axis((0, 0, 0), (0, 1, 0))
    for i in range(1, CIRPATTERN1_COUNT):
        add(cut_extrude2.rotate(cirpattern1_axis, i * 360 / CIRPATTERN1_COUNT), mode=Mode.SUBTRACT)


solid = part.part
